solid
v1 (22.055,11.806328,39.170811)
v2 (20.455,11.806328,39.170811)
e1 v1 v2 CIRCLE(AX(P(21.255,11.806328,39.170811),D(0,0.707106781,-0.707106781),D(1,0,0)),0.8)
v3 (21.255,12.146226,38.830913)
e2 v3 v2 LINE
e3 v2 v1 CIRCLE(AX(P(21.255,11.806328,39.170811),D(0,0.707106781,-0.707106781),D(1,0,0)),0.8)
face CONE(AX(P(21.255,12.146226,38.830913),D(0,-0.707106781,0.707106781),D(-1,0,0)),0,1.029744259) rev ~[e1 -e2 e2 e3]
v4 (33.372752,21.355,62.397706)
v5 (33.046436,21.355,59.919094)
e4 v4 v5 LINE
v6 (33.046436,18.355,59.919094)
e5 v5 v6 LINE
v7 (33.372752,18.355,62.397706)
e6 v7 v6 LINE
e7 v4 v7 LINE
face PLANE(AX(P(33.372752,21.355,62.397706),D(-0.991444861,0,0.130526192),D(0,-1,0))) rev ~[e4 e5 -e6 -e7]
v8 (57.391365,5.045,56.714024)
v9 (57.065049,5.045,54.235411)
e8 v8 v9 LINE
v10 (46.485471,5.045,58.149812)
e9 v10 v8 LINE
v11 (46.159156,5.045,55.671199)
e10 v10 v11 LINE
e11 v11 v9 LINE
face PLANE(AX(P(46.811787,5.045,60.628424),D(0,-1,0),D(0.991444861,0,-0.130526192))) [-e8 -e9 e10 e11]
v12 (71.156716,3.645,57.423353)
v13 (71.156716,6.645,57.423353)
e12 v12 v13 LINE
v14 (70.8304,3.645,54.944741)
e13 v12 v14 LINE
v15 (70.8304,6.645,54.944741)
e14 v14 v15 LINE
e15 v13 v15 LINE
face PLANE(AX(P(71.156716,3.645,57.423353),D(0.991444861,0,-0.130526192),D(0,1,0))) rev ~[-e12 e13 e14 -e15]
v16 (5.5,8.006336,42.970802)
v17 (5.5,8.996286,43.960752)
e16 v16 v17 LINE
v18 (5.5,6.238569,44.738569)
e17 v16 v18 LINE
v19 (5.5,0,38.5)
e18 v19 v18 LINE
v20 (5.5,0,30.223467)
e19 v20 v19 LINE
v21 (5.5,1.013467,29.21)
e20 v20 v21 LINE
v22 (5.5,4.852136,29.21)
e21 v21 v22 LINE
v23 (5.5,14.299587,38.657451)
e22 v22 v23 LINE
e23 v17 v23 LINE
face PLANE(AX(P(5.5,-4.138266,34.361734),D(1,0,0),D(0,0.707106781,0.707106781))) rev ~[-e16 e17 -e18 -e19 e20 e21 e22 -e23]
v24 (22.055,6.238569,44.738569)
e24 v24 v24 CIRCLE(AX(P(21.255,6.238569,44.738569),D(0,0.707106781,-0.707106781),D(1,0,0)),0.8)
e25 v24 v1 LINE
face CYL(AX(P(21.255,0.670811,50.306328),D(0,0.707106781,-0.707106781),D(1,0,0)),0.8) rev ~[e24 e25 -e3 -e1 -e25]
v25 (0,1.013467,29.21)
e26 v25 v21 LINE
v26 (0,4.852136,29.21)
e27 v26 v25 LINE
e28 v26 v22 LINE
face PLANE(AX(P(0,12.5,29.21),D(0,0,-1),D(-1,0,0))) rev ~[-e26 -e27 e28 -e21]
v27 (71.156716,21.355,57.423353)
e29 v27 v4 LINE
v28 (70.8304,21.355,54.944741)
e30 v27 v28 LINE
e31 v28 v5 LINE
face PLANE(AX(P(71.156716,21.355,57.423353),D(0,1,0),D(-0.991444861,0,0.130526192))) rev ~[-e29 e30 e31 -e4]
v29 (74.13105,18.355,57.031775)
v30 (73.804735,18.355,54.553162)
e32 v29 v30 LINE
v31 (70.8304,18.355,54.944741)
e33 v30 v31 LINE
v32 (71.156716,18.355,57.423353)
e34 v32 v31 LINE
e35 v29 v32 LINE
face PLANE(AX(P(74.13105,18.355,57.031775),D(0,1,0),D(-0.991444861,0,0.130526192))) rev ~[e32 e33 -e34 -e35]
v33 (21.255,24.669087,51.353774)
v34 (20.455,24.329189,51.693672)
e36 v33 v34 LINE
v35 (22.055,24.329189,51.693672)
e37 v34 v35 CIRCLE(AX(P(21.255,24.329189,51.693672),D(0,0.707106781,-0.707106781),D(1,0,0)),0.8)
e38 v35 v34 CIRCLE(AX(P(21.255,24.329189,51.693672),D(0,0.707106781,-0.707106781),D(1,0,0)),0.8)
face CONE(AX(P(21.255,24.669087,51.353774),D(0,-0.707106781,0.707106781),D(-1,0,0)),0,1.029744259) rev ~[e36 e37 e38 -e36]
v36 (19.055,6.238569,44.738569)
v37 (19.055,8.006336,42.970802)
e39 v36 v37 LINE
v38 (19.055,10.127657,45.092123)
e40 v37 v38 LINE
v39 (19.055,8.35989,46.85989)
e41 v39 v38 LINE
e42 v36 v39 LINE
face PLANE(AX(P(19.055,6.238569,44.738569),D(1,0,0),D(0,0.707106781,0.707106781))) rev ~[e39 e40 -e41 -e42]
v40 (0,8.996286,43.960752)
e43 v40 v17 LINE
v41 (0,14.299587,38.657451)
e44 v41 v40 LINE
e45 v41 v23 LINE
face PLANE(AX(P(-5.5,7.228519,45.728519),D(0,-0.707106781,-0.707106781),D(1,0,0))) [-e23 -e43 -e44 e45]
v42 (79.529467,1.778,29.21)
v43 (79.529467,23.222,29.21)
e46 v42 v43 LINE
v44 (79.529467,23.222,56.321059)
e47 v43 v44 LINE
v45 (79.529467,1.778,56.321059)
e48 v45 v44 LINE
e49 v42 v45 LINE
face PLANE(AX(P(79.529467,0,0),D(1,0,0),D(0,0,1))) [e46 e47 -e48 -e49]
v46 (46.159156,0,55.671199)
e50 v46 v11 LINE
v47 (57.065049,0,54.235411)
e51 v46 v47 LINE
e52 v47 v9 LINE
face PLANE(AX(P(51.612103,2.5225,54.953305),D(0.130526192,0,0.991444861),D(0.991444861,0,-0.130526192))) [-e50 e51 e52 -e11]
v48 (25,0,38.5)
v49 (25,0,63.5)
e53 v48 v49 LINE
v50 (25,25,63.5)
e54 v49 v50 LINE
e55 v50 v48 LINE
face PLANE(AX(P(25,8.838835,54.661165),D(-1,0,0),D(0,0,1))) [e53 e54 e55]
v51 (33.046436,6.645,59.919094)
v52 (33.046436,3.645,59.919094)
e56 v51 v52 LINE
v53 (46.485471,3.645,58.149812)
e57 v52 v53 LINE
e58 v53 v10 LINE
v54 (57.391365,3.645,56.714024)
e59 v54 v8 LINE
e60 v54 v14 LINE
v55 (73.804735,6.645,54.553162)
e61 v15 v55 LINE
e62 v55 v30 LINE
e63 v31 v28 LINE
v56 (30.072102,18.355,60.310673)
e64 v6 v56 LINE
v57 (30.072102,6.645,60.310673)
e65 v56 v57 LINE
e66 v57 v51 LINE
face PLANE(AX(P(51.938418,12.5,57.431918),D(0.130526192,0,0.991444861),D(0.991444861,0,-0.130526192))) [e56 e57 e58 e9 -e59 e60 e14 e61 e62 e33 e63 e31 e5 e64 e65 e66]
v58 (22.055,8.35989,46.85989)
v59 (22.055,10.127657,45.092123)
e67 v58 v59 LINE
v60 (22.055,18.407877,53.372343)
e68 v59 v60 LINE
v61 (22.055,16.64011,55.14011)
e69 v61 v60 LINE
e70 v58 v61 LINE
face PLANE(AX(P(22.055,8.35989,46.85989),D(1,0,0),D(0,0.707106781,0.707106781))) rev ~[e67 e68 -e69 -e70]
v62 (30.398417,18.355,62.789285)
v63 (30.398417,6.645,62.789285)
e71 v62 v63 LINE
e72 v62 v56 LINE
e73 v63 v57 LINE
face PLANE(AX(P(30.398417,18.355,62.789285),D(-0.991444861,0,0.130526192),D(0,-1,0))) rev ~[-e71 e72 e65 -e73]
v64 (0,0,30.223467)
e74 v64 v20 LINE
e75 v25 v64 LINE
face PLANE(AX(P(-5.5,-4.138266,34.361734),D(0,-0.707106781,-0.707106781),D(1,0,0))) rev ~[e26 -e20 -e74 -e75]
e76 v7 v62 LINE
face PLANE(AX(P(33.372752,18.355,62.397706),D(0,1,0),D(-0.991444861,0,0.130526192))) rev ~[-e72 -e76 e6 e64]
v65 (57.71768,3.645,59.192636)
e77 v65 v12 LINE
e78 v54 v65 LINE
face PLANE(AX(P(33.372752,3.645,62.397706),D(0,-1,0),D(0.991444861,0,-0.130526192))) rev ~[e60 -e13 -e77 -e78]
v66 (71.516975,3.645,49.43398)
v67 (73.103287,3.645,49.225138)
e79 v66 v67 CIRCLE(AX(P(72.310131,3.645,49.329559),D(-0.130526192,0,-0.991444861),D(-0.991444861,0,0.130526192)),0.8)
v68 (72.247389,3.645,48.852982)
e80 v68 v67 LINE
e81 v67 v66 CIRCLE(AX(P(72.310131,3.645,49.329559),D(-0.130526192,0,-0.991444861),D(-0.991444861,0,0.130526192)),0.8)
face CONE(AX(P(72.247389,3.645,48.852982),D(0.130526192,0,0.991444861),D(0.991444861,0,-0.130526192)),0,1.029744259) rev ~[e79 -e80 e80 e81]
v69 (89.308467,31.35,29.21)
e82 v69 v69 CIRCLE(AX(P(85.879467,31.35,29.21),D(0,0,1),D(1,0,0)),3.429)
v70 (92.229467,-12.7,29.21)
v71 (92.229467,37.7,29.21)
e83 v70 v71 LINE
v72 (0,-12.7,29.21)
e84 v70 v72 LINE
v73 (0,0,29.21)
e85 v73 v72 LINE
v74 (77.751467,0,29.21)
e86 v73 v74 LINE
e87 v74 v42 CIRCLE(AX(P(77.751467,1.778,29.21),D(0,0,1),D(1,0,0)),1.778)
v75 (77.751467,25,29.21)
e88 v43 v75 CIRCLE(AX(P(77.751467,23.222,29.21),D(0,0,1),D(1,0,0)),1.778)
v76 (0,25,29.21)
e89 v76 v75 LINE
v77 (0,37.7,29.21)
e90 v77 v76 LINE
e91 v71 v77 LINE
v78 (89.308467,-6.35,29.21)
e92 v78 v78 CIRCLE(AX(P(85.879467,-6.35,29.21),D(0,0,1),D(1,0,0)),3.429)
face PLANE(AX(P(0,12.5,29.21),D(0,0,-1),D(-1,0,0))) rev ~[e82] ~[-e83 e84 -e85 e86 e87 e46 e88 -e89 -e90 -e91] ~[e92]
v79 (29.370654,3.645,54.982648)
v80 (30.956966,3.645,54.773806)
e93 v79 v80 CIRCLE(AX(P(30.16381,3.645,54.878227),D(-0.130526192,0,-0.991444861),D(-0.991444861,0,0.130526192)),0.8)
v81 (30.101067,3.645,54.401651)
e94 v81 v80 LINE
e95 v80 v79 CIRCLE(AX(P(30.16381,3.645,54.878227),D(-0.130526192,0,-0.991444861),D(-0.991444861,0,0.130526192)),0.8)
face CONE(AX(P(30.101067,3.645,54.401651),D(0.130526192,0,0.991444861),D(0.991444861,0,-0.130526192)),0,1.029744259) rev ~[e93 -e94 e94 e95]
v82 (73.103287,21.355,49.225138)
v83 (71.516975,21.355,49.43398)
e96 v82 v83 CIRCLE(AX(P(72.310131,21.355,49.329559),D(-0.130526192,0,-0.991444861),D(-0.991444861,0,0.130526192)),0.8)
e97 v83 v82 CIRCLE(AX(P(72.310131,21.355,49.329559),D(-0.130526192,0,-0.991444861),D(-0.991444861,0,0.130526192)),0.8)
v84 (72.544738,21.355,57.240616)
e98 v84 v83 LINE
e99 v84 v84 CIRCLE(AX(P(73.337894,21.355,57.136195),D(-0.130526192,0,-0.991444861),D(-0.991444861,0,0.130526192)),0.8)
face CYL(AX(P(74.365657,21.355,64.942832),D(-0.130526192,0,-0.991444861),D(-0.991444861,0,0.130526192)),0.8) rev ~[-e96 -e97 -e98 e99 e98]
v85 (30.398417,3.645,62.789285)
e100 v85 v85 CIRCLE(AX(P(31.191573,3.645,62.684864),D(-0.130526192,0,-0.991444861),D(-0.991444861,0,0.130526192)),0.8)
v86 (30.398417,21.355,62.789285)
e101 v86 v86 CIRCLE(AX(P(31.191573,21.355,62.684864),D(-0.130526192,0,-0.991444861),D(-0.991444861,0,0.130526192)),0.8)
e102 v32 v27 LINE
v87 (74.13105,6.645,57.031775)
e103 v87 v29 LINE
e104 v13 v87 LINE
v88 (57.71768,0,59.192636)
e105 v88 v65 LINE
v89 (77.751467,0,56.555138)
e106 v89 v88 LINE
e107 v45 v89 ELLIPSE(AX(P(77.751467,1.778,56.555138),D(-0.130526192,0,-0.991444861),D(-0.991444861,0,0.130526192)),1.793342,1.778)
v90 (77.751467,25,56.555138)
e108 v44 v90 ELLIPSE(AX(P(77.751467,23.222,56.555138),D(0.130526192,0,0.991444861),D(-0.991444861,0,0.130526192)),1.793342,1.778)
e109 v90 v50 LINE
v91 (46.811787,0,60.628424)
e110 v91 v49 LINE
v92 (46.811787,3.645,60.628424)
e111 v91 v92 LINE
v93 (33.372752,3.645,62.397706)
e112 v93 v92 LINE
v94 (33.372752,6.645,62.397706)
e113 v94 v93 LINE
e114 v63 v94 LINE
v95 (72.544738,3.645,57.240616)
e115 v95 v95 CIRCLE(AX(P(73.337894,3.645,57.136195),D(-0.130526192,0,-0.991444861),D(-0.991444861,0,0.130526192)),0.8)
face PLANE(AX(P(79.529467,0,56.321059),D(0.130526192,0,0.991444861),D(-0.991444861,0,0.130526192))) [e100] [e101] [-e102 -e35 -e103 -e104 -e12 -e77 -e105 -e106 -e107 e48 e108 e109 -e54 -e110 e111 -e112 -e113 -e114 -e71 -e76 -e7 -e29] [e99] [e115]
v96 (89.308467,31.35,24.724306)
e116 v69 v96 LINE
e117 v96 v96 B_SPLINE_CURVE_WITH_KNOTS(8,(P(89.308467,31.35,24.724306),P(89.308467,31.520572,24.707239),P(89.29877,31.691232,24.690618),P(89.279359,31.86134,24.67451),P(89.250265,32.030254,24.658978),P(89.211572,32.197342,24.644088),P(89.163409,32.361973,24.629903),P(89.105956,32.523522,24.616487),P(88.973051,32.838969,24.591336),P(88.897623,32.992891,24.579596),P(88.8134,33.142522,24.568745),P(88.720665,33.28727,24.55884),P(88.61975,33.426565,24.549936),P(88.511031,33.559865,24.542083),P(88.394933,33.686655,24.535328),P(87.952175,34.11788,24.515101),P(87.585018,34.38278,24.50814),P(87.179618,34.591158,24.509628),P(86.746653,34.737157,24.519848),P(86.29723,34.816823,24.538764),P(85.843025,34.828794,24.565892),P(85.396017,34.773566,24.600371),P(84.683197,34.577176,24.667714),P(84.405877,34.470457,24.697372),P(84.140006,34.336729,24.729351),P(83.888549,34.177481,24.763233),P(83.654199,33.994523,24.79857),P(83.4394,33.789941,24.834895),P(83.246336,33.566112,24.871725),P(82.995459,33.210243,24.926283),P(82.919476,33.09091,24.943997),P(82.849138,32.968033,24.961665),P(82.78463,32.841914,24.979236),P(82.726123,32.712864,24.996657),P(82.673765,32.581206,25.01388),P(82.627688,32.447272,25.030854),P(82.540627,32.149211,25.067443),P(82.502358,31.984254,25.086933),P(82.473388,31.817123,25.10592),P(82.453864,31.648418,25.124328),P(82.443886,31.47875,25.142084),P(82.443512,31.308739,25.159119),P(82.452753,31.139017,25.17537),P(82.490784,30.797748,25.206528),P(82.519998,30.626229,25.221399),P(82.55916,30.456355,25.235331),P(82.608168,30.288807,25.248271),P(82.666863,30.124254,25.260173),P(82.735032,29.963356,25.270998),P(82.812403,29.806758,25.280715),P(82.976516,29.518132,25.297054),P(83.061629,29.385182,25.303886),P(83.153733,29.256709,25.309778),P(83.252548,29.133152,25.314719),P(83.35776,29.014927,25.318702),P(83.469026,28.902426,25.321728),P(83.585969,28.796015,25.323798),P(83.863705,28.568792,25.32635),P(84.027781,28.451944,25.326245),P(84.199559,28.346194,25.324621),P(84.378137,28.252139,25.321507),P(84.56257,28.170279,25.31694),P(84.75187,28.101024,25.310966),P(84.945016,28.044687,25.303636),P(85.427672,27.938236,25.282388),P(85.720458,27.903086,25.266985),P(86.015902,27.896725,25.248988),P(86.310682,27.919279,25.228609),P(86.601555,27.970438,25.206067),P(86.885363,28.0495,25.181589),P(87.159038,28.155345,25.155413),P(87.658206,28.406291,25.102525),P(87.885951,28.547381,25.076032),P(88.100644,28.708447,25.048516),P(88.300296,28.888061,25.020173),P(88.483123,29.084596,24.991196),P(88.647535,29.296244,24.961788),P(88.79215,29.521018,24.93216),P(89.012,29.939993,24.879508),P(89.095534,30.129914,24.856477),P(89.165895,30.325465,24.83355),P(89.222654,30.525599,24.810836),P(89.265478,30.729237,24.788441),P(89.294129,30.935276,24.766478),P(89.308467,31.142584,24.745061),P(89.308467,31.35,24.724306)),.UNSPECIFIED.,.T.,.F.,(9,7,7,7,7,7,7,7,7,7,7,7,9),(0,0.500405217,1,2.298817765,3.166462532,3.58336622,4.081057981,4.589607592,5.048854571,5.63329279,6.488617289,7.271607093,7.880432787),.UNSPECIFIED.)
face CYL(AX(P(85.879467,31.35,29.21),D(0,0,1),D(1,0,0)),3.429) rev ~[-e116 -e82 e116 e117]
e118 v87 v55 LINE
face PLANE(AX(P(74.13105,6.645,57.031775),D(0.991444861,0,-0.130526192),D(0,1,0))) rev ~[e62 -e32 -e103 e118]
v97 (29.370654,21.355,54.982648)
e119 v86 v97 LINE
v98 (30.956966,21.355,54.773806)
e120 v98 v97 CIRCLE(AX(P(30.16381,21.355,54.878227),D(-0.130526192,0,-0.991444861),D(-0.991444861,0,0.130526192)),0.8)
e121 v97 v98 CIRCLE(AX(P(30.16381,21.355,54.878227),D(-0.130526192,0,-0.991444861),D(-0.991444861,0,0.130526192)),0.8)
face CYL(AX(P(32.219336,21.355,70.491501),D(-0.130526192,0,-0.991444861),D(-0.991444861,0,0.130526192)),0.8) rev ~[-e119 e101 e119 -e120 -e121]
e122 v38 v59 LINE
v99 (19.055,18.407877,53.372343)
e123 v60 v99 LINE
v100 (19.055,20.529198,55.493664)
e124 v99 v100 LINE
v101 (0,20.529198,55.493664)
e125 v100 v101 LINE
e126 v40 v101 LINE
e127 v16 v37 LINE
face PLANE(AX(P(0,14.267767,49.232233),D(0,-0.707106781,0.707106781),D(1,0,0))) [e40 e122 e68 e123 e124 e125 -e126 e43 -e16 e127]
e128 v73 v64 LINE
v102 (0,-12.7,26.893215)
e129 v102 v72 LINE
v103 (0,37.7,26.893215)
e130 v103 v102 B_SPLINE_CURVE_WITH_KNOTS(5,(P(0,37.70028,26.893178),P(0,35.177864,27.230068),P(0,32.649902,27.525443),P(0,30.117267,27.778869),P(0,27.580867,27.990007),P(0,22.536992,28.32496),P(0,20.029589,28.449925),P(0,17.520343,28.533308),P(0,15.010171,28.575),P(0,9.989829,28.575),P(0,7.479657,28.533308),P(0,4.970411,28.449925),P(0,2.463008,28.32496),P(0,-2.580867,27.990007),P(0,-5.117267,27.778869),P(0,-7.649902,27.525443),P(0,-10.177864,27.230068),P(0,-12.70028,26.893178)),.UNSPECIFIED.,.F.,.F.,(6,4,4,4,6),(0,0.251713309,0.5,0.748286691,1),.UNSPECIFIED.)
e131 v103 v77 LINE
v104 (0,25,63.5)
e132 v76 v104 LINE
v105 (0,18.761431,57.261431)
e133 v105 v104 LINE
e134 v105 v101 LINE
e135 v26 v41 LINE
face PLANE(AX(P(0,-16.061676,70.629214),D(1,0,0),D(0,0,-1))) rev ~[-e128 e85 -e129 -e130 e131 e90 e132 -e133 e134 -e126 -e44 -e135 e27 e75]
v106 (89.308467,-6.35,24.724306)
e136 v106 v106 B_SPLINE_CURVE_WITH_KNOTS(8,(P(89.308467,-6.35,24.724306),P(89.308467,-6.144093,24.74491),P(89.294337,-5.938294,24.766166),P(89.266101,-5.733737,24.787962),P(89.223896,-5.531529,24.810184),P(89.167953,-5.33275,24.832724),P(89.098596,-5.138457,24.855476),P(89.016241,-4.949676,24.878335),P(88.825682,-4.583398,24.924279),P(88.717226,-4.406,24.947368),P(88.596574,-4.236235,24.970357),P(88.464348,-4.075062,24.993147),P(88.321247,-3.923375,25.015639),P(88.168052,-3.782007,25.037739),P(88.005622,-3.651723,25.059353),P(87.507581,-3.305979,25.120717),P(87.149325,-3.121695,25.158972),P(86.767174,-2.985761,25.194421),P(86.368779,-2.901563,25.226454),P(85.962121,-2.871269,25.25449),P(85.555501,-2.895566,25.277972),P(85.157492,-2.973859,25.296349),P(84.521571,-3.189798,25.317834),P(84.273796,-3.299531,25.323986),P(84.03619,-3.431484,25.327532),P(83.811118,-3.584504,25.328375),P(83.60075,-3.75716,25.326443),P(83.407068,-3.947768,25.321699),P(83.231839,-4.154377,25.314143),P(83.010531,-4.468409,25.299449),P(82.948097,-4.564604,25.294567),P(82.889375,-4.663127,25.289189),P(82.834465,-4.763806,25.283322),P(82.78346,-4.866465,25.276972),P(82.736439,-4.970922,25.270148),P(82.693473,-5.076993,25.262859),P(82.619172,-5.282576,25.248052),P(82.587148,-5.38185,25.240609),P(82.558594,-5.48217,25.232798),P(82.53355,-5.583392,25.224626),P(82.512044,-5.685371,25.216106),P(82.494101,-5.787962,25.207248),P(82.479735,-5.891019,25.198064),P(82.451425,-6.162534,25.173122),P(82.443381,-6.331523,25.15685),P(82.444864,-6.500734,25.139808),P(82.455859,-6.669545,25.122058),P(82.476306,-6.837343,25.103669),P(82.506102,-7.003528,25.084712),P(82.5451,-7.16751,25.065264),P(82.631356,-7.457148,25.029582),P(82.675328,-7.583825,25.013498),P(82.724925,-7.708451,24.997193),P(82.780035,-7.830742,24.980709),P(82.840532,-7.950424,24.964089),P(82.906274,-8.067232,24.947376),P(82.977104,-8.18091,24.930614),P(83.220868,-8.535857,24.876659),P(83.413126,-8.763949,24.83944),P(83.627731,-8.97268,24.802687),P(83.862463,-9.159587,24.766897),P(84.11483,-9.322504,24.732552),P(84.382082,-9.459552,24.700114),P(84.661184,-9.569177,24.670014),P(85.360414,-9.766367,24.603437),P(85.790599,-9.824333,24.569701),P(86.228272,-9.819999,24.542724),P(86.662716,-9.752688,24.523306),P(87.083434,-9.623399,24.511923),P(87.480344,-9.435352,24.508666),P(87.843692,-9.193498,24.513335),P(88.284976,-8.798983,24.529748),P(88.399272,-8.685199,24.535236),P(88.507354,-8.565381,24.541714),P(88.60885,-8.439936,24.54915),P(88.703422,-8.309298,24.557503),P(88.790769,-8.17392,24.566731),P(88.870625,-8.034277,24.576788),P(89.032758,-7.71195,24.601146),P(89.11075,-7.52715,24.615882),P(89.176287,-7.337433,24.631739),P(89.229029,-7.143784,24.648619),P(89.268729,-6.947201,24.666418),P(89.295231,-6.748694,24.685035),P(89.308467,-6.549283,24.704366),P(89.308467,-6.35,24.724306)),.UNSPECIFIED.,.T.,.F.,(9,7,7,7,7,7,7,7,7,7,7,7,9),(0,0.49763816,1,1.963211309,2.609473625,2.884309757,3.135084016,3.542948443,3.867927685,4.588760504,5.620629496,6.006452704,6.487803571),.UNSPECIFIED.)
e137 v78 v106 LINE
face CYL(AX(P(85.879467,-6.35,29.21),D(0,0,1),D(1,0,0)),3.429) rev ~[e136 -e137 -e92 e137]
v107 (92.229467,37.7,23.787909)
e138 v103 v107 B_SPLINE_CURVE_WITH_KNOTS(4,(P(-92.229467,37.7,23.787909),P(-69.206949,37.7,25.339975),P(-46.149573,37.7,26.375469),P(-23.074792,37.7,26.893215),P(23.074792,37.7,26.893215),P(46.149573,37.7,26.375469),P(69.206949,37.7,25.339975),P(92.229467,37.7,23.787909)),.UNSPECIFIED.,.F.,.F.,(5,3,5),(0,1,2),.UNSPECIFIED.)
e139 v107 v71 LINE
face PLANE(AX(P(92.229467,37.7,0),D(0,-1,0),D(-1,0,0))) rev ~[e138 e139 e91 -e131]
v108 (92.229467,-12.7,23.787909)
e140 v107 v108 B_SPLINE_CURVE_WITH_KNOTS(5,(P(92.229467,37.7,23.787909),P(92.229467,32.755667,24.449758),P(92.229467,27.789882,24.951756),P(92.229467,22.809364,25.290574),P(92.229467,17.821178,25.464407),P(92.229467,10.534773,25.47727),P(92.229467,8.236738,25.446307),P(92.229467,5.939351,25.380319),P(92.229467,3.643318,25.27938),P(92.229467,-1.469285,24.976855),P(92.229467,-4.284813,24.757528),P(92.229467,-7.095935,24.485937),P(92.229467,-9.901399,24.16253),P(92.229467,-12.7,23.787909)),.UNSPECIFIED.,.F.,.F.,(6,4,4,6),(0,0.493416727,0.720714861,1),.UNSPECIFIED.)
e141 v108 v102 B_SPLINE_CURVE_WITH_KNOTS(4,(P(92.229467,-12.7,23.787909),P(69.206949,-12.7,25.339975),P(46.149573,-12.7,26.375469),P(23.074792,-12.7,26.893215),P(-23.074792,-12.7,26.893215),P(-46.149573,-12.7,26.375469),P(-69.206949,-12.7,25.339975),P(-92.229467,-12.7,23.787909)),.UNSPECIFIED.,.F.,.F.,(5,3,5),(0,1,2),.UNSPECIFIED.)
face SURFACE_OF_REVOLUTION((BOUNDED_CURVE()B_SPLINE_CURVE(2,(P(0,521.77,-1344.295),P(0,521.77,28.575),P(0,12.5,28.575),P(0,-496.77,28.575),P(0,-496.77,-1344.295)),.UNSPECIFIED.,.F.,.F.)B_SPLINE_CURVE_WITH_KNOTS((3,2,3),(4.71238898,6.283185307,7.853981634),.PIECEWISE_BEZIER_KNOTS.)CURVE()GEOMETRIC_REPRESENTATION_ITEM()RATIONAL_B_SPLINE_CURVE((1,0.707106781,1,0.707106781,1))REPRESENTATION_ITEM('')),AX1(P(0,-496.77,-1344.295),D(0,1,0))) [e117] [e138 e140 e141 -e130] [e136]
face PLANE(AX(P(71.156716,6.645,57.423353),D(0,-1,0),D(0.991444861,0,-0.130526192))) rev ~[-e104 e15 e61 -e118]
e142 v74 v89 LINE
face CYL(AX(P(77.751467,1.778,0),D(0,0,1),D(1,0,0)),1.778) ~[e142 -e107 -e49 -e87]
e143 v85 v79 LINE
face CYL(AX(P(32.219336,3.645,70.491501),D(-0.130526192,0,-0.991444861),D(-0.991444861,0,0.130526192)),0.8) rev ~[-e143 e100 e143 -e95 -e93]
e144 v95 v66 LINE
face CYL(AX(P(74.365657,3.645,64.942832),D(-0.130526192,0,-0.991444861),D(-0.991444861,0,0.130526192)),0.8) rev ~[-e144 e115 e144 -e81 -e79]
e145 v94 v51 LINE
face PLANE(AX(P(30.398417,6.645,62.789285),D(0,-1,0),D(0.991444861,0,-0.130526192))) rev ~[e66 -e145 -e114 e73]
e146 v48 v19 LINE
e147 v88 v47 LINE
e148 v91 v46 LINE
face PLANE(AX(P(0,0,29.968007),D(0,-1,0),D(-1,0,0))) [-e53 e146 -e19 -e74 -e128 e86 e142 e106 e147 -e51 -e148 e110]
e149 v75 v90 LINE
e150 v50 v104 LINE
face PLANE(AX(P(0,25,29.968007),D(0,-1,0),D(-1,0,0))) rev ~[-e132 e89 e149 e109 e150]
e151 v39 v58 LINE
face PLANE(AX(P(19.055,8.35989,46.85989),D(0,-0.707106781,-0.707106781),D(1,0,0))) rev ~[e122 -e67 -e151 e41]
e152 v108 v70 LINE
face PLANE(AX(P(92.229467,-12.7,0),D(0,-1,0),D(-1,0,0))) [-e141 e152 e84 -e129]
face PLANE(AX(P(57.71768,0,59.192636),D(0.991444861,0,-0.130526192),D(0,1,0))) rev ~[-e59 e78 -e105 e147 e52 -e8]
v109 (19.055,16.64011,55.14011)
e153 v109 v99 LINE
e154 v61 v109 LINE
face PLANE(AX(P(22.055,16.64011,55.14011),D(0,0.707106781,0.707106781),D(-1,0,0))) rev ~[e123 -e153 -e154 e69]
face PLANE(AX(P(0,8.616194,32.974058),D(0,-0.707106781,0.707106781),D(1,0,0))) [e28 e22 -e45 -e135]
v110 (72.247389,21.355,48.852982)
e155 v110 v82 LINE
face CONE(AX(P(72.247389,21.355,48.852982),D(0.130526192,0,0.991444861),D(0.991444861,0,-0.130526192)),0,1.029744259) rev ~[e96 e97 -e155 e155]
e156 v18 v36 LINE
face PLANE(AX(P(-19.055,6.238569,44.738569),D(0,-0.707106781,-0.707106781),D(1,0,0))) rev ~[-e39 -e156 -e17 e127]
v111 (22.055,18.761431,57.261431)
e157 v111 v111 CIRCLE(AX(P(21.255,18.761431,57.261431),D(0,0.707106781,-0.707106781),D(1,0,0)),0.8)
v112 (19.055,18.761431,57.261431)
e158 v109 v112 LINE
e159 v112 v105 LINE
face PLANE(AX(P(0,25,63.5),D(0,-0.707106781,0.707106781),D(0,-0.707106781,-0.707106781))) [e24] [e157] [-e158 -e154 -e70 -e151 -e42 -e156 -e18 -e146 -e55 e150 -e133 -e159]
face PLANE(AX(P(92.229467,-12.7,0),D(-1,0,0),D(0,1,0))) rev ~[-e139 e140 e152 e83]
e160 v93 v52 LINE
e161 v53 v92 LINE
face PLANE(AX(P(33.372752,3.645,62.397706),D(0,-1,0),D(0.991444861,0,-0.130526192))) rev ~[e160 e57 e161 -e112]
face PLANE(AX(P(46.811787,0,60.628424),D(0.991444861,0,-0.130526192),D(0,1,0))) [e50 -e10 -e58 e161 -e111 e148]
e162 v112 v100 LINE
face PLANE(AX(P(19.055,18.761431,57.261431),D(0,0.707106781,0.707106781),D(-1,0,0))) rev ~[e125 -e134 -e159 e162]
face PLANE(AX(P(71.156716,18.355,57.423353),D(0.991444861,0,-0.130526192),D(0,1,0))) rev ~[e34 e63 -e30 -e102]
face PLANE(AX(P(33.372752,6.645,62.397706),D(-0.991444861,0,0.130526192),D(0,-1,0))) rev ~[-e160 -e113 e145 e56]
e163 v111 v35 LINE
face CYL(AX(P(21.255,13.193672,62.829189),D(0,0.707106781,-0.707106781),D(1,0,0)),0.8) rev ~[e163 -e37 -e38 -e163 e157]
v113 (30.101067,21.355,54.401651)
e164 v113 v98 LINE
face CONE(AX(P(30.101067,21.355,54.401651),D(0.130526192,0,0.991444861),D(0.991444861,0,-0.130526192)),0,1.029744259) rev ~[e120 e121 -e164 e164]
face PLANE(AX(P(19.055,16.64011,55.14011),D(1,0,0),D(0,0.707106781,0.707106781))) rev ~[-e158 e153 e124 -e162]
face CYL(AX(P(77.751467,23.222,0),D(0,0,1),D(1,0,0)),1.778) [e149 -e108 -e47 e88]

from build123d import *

# Parameters (mm, degrees)
BOSS_EXTRUDE4_DEPTH           = 25
CUT_EXTRUDE2_DEPTH            = 25
TAP_DRILL_FOR_4_40_TAP1_D     = 1.600000102
TAP_DRILL_FOR_4_40_TAP1_DEPTH = 7.874
TAP_DRILL_FOR_4_40_TAP1_TIP   = 0.480688526
TAP_DRILL_FOR_4_40_TAP3_D     = 1.600000102
TAP_DRILL_FOR_4_40_TAP3_DEPTH = 7.874
TAP_DRILL_FOR_4_40_TAP3_TIP   = 0.480688526
TAP_DRILL_FOR_4_40_TAP4_D     = 1.600000102
TAP_DRILL_FOR_4_40_TAP4_DEPTH = 7.874
TAP_DRILL_FOR_4_40_TAP4_TIP   = 0.480688526
FILLET1_R                     = 1.778
CUT_EXTRUDE3_DEPTH            = 2.5
CUT_EXTRUDE4_DEPTH            = 2.5
CUT_EXTRUDE5_DEPTH            = 2.5
SKETCH23_W                    = 11
SKETCH23_H                    = 5.045
CUT_EXTRUDE6_DEPTH            = 5
SKETCH24_W                    = 11
SKETCH24_H                    = 5.045
CUT_EXTRUDE7_DEPTH            = 5
SKETCH25_W                    = 11
SKETCH25_H                    = 16.07506189
CUT_EXTRUDE8_DEPTH            = 10
SKETCH26_W                    = 184.458934752
SKETCH26_H                    = 50.4
BOSS_EXTRUDE6_DEPTH           = 29.21
SKETCH27_R                    = 3.429
CUT_EXTRUDE9_DEPTH            = 106.37252383
SKETCH28_W                    = 115.917353875
SKETCH28_H                    = 112.19052099
CUT_EXTRUDE10_DEPTH           = 119.151659651


with BuildPart() as part:
    # Sketch6 → Boss-Extrude4 (new body)
    with BuildSketch(Plane(origin=(0, 0, 0), x_dir=(1, 0, 0), z_dir=(0, 1, 0))):
        Polygon((-79.529467376, 0), (79.529467376, 0), (79.529467376, -56.321059428), (25, -63.5), (-25, -63.5), (-79.529467376, -56.321059428), align=None)
    extrude(amount=BOSS_EXTRUDE4_DEPTH)

    # Sketch7 → Cut-Extrude2 (cut, symmetric)
    with BuildSketch(Plane(origin=(0, 0, 0), x_dir=(0, 0, -1), z_dir=(1, 0, 0))):
        Polygon((-63.5, 25), (-38.5, 0), (-63.5, 0), align=None)
    extrude(amount=CUT_EXTRUDE2_DEPTH, both=True, mode=Mode.SUBTRACT)

    # Tap Drill for #4-40 Tap1
    with Locations(Plane(origin=(0, -19.25, 19.25), x_dir=(-1, 0, 0), z_dir=(0, -0.7071067811865488, 0.7071067811865462))):
        with Locations((-21.255000035, -53.756280605), (21.255000035, -53.756280605), (21.255000035, -36.046280605), (-21.255000035, -36.046280605)):
            Hole(TAP_DRILL_FOR_4_40_TAP1_D / 2, depth=TAP_DRILL_FOR_4_40_TAP1_DEPTH)
            with Locations((0, 0, -(TAP_DRILL_FOR_4_40_TAP1_DEPTH + TAP_DRILL_FOR_4_40_TAP1_TIP / 2))):  # 118° drill point
                Cone(0, TAP_DRILL_FOR_4_40_TAP1_D / 2, TAP_DRILL_FOR_4_40_TAP1_TIP, mode=Mode.SUBTRACT)

    # Tap Drill for #4-40 Tap3
    with Locations(Plane(origin=(-8.643431853, 0, 65.653383048), x_dir=(0.9914448613738104, 0, 0.13052619222005213), z_dir=(-0.13052619222005213, 0, 0.9914448613738104))):
        with Locations((-65.252708328, 21.355), (-22.742708328, 21.355), (-22.742708328, 3.645), (-65.252708328, 3.645)):
            Hole(TAP_DRILL_FOR_4_40_TAP3_D / 2, depth=TAP_DRILL_FOR_4_40_TAP3_DEPTH)
            with Locations((0, 0, -(TAP_DRILL_FOR_4_40_TAP3_DEPTH + TAP_DRILL_FOR_4_40_TAP3_TIP / 2))):  # 118° drill point
                Cone(0, TAP_DRILL_FOR_4_40_TAP3_D / 2, TAP_DRILL_FOR_4_40_TAP3_TIP, mode=Mode.SUBTRACT)

    # Tap Drill for #4-40 Tap4
    with Locations(Plane(origin=(8.643431853, 0, 65.653383048), x_dir=(0.9914448613738104, 0, -0.13052619222005213), z_dir=(0.13052619222005213, 0, 0.9914448613738104))):
        with Locations((22.742708328, 21.355), (65.252708328, 21.355), (65.252708328, 3.645), (22.742708328, 3.645)):
            Hole(TAP_DRILL_FOR_4_40_TAP4_D / 2, depth=TAP_DRILL_FOR_4_40_TAP4_DEPTH)
            with Locations((0, 0, -(TAP_DRILL_FOR_4_40_TAP4_DEPTH + TAP_DRILL_FOR_4_40_TAP4_TIP / 2))):  # 118° drill point
                Cone(0, TAP_DRILL_FOR_4_40_TAP4_D / 2, TAP_DRILL_FOR_4_40_TAP4_TIP, mode=Mode.SUBTRACT)

    # Fillet1
    fillet1_edges = [part.edges().sort_by_distance(p)[0] for p in [
        (-79.529467376, 25, 28.160529714),
        (79.529467376, 25, 28.160529714),
        (-79.529467376, 0, 28.160529714),
        (79.529467376, 0, 28.160529714),
    ]]
    fillet(fillet1_edges, radius=FILLET1_R)

    # Sketch22 → Cut-Extrude3 (cut)
    with BuildSketch(Plane(origin=(0, -19.25, 19.25), x_dir=(1, 0, 0), z_dir=(0, -0.7071067811865488, 0.7071067811865462))):
        Polygon((-19.055000086, 53.756280605), (-19.055000086, 50.756280605), (-22.055000086, 50.756280605), (-22.055000086, 39.046280605), (-19.055000086, 39.046280605), (-19.055000086, 36.046280605), (19.055000086, 36.046280605), (19.055000086, 39.046280605), (22.055000086, 39.046280605), (22.055000086, 50.756280605), (19.055000086, 50.756280605), (19.055000086, 53.756280605), align=None)
    extrude(amount=-CUT_EXTRUDE3_DEPTH, mode=Mode.SUBTRACT)

    # Sketch21 → Cut-Extrude4 (cut)
    with BuildSketch(Plane(origin=(8.643431853, 0, 65.653383048), x_dir=(0.9914448613738104, 0, -0.13052619222005213), z_dir=(0.13052619222005213, 0, 0.9914448613738104))):
        Polygon((24.942708277, 21.355), (24.942708277, 18.355), (21.942708277, 18.355), (21.942708277, 6.645), (24.942708277, 6.645), (24.942708277, 3.645), (63.052708379, 3.645), (63.052708379, 6.645), (66.052708379, 6.645), (66.052708379, 18.355), (63.052708379, 18.355), (63.052708379, 21.355), align=None)
    extrude(amount=-CUT_EXTRUDE4_DEPTH, mode=Mode.SUBTRACT)

    # Sketch20 → Cut-Extrude5 (cut)
    with BuildSketch(Plane(origin=(-8.643431853, 0, 65.653383048), x_dir=(0.9914448613738104, 0, 0.13052619222005213), z_dir=(-0.13052619222005213, 0, 0.9914448613738104))):
        Polygon((-63.052708379, 21.355), (-63.052708379, 18.355), (-66.052708379, 18.355), (-66.052708379, 6.645), (-63.052708379, 6.645), (-63.052708379, 3.645), (-24.942708277, 3.645), (-24.942708277, 6.645), (-21.942708277, 6.645), (-21.942708277, 18.355), (-24.942708277, 18.355), (-24.942708277, 21.355), align=None)
    extrude(amount=-CUT_EXTRUDE5_DEPTH, mode=Mode.SUBTRACT)

    # Sketch23 → Cut-Extrude6 (cut)
    with BuildSketch(Plane(origin=(8.643431853, 0, 65.653383048), x_dir=(0.9914448613738104, 0, -0.13052619222005213), z_dir=(0.13052619222005213, 0, 0.9914448613738104))):
        with Locations((43.997708328, 2.5225)):
            Rectangle(SKETCH23_W, SKETCH23_H)
    extrude(amount=-CUT_EXTRUDE6_DEPTH, mode=Mode.SUBTRACT)

    # Sketch24 → Cut-Extrude7 (cut)
    with BuildSketch(Plane(origin=(-8.643431853, 0, 65.653383048), x_dir=(0.9914448613738104, 0, 0.13052619222005213), z_dir=(-0.13052619222005213, 0, 0.9914448613738104))):
        with Locations((-43.997708328, 2.5225)):
            Rectangle(SKETCH24_W, SKETCH24_H)
    extrude(amount=-CUT_EXTRUDE7_DEPTH, mode=Mode.SUBTRACT)

    # Sketch25 → Cut-Extrude8 (cut)
    with BuildSketch(Plane(origin=(0, -19.25, 19.25), x_dir=(1, 0, 0), z_dir=(0, -0.7071067811865488, 0.7071067811865462))):
        with Locations((0, 29.40874966)):
            Rectangle(SKETCH25_W, SKETCH25_H)
    extrude(amount=-CUT_EXTRUDE8_DEPTH, mode=Mode.SUBTRACT)

    # Sketch26 → Boss-Extrude6 (add)
    with BuildSketch(Plane(origin=(0, 0, 0), x_dir=(-1, 0, 0), z_dir=(0, 0, -1))):
        with Locations((0, 12.5)):
            Rectangle(SKETCH26_W, SKETCH26_H)
    extrude(amount=-BOSS_EXTRUDE6_DEPTH)

    # Sketch11 → Cut-Revolve4 (revolve, cut)
    with BuildSketch(Plane(origin=(0, 0, 0), x_dir=(0, 0, -1), z_dir=(1, 0, 0))):
        with BuildLine():
            Line((1344.295, -496.77), (1344.295, 521.77))
            add(Edge.make_bspline(
                [(1344.295, 521.77), (-28.575, 521.77), (-28.575, 12.5), (-28.575, -496.77), (1344.295, -496.77)],
                knots=[4.71238898, 4.71238898, 4.71238898, 6.283185307, 6.283185307, 7.853981634, 7.853981634, 7.853981634], degree=2, weights=[1, 0.707106781, 1, 0.707106781, 1]))
        make_face()
    revolve(axis=Axis((0, -496.77, -1344.295), (0, 1, 0)), mode=Mode.SUBTRACT)

    # Sketch27 → Cut-Extrude9 (cut, through all)
    with BuildSketch(Plane.XY.offset(29.21)):
        with Locations((85.879467376, -6.35)):
            Circle(SKETCH27_R)
        with Locations((-85.879467376, -6.35)):
            Circle(SKETCH27_R)
        with Locations((-85.879467376, 31.35)):
            Circle(SKETCH27_R)
        with Locations((85.879467376, 31.35)):
            Circle(SKETCH27_R)
    extrude(amount=-CUT_EXTRUDE9_DEPTH, mode=Mode.SUBTRACT)

    # Sketch28 → Cut-Extrude10 (cut, through all)
    with BuildSketch(Plane(origin=(0, 0, 0), x_dir=(0, 0, -1), z_dir=(1, 0, 0))):
        with Locations((-70.629213931, -16.061676163)):
            Rectangle(SKETCH28_W, SKETCH28_H)
    extrude(amount=-CUT_EXTRUDE10_DEPTH, mode=Mode.SUBTRACT)


solid = part.part
